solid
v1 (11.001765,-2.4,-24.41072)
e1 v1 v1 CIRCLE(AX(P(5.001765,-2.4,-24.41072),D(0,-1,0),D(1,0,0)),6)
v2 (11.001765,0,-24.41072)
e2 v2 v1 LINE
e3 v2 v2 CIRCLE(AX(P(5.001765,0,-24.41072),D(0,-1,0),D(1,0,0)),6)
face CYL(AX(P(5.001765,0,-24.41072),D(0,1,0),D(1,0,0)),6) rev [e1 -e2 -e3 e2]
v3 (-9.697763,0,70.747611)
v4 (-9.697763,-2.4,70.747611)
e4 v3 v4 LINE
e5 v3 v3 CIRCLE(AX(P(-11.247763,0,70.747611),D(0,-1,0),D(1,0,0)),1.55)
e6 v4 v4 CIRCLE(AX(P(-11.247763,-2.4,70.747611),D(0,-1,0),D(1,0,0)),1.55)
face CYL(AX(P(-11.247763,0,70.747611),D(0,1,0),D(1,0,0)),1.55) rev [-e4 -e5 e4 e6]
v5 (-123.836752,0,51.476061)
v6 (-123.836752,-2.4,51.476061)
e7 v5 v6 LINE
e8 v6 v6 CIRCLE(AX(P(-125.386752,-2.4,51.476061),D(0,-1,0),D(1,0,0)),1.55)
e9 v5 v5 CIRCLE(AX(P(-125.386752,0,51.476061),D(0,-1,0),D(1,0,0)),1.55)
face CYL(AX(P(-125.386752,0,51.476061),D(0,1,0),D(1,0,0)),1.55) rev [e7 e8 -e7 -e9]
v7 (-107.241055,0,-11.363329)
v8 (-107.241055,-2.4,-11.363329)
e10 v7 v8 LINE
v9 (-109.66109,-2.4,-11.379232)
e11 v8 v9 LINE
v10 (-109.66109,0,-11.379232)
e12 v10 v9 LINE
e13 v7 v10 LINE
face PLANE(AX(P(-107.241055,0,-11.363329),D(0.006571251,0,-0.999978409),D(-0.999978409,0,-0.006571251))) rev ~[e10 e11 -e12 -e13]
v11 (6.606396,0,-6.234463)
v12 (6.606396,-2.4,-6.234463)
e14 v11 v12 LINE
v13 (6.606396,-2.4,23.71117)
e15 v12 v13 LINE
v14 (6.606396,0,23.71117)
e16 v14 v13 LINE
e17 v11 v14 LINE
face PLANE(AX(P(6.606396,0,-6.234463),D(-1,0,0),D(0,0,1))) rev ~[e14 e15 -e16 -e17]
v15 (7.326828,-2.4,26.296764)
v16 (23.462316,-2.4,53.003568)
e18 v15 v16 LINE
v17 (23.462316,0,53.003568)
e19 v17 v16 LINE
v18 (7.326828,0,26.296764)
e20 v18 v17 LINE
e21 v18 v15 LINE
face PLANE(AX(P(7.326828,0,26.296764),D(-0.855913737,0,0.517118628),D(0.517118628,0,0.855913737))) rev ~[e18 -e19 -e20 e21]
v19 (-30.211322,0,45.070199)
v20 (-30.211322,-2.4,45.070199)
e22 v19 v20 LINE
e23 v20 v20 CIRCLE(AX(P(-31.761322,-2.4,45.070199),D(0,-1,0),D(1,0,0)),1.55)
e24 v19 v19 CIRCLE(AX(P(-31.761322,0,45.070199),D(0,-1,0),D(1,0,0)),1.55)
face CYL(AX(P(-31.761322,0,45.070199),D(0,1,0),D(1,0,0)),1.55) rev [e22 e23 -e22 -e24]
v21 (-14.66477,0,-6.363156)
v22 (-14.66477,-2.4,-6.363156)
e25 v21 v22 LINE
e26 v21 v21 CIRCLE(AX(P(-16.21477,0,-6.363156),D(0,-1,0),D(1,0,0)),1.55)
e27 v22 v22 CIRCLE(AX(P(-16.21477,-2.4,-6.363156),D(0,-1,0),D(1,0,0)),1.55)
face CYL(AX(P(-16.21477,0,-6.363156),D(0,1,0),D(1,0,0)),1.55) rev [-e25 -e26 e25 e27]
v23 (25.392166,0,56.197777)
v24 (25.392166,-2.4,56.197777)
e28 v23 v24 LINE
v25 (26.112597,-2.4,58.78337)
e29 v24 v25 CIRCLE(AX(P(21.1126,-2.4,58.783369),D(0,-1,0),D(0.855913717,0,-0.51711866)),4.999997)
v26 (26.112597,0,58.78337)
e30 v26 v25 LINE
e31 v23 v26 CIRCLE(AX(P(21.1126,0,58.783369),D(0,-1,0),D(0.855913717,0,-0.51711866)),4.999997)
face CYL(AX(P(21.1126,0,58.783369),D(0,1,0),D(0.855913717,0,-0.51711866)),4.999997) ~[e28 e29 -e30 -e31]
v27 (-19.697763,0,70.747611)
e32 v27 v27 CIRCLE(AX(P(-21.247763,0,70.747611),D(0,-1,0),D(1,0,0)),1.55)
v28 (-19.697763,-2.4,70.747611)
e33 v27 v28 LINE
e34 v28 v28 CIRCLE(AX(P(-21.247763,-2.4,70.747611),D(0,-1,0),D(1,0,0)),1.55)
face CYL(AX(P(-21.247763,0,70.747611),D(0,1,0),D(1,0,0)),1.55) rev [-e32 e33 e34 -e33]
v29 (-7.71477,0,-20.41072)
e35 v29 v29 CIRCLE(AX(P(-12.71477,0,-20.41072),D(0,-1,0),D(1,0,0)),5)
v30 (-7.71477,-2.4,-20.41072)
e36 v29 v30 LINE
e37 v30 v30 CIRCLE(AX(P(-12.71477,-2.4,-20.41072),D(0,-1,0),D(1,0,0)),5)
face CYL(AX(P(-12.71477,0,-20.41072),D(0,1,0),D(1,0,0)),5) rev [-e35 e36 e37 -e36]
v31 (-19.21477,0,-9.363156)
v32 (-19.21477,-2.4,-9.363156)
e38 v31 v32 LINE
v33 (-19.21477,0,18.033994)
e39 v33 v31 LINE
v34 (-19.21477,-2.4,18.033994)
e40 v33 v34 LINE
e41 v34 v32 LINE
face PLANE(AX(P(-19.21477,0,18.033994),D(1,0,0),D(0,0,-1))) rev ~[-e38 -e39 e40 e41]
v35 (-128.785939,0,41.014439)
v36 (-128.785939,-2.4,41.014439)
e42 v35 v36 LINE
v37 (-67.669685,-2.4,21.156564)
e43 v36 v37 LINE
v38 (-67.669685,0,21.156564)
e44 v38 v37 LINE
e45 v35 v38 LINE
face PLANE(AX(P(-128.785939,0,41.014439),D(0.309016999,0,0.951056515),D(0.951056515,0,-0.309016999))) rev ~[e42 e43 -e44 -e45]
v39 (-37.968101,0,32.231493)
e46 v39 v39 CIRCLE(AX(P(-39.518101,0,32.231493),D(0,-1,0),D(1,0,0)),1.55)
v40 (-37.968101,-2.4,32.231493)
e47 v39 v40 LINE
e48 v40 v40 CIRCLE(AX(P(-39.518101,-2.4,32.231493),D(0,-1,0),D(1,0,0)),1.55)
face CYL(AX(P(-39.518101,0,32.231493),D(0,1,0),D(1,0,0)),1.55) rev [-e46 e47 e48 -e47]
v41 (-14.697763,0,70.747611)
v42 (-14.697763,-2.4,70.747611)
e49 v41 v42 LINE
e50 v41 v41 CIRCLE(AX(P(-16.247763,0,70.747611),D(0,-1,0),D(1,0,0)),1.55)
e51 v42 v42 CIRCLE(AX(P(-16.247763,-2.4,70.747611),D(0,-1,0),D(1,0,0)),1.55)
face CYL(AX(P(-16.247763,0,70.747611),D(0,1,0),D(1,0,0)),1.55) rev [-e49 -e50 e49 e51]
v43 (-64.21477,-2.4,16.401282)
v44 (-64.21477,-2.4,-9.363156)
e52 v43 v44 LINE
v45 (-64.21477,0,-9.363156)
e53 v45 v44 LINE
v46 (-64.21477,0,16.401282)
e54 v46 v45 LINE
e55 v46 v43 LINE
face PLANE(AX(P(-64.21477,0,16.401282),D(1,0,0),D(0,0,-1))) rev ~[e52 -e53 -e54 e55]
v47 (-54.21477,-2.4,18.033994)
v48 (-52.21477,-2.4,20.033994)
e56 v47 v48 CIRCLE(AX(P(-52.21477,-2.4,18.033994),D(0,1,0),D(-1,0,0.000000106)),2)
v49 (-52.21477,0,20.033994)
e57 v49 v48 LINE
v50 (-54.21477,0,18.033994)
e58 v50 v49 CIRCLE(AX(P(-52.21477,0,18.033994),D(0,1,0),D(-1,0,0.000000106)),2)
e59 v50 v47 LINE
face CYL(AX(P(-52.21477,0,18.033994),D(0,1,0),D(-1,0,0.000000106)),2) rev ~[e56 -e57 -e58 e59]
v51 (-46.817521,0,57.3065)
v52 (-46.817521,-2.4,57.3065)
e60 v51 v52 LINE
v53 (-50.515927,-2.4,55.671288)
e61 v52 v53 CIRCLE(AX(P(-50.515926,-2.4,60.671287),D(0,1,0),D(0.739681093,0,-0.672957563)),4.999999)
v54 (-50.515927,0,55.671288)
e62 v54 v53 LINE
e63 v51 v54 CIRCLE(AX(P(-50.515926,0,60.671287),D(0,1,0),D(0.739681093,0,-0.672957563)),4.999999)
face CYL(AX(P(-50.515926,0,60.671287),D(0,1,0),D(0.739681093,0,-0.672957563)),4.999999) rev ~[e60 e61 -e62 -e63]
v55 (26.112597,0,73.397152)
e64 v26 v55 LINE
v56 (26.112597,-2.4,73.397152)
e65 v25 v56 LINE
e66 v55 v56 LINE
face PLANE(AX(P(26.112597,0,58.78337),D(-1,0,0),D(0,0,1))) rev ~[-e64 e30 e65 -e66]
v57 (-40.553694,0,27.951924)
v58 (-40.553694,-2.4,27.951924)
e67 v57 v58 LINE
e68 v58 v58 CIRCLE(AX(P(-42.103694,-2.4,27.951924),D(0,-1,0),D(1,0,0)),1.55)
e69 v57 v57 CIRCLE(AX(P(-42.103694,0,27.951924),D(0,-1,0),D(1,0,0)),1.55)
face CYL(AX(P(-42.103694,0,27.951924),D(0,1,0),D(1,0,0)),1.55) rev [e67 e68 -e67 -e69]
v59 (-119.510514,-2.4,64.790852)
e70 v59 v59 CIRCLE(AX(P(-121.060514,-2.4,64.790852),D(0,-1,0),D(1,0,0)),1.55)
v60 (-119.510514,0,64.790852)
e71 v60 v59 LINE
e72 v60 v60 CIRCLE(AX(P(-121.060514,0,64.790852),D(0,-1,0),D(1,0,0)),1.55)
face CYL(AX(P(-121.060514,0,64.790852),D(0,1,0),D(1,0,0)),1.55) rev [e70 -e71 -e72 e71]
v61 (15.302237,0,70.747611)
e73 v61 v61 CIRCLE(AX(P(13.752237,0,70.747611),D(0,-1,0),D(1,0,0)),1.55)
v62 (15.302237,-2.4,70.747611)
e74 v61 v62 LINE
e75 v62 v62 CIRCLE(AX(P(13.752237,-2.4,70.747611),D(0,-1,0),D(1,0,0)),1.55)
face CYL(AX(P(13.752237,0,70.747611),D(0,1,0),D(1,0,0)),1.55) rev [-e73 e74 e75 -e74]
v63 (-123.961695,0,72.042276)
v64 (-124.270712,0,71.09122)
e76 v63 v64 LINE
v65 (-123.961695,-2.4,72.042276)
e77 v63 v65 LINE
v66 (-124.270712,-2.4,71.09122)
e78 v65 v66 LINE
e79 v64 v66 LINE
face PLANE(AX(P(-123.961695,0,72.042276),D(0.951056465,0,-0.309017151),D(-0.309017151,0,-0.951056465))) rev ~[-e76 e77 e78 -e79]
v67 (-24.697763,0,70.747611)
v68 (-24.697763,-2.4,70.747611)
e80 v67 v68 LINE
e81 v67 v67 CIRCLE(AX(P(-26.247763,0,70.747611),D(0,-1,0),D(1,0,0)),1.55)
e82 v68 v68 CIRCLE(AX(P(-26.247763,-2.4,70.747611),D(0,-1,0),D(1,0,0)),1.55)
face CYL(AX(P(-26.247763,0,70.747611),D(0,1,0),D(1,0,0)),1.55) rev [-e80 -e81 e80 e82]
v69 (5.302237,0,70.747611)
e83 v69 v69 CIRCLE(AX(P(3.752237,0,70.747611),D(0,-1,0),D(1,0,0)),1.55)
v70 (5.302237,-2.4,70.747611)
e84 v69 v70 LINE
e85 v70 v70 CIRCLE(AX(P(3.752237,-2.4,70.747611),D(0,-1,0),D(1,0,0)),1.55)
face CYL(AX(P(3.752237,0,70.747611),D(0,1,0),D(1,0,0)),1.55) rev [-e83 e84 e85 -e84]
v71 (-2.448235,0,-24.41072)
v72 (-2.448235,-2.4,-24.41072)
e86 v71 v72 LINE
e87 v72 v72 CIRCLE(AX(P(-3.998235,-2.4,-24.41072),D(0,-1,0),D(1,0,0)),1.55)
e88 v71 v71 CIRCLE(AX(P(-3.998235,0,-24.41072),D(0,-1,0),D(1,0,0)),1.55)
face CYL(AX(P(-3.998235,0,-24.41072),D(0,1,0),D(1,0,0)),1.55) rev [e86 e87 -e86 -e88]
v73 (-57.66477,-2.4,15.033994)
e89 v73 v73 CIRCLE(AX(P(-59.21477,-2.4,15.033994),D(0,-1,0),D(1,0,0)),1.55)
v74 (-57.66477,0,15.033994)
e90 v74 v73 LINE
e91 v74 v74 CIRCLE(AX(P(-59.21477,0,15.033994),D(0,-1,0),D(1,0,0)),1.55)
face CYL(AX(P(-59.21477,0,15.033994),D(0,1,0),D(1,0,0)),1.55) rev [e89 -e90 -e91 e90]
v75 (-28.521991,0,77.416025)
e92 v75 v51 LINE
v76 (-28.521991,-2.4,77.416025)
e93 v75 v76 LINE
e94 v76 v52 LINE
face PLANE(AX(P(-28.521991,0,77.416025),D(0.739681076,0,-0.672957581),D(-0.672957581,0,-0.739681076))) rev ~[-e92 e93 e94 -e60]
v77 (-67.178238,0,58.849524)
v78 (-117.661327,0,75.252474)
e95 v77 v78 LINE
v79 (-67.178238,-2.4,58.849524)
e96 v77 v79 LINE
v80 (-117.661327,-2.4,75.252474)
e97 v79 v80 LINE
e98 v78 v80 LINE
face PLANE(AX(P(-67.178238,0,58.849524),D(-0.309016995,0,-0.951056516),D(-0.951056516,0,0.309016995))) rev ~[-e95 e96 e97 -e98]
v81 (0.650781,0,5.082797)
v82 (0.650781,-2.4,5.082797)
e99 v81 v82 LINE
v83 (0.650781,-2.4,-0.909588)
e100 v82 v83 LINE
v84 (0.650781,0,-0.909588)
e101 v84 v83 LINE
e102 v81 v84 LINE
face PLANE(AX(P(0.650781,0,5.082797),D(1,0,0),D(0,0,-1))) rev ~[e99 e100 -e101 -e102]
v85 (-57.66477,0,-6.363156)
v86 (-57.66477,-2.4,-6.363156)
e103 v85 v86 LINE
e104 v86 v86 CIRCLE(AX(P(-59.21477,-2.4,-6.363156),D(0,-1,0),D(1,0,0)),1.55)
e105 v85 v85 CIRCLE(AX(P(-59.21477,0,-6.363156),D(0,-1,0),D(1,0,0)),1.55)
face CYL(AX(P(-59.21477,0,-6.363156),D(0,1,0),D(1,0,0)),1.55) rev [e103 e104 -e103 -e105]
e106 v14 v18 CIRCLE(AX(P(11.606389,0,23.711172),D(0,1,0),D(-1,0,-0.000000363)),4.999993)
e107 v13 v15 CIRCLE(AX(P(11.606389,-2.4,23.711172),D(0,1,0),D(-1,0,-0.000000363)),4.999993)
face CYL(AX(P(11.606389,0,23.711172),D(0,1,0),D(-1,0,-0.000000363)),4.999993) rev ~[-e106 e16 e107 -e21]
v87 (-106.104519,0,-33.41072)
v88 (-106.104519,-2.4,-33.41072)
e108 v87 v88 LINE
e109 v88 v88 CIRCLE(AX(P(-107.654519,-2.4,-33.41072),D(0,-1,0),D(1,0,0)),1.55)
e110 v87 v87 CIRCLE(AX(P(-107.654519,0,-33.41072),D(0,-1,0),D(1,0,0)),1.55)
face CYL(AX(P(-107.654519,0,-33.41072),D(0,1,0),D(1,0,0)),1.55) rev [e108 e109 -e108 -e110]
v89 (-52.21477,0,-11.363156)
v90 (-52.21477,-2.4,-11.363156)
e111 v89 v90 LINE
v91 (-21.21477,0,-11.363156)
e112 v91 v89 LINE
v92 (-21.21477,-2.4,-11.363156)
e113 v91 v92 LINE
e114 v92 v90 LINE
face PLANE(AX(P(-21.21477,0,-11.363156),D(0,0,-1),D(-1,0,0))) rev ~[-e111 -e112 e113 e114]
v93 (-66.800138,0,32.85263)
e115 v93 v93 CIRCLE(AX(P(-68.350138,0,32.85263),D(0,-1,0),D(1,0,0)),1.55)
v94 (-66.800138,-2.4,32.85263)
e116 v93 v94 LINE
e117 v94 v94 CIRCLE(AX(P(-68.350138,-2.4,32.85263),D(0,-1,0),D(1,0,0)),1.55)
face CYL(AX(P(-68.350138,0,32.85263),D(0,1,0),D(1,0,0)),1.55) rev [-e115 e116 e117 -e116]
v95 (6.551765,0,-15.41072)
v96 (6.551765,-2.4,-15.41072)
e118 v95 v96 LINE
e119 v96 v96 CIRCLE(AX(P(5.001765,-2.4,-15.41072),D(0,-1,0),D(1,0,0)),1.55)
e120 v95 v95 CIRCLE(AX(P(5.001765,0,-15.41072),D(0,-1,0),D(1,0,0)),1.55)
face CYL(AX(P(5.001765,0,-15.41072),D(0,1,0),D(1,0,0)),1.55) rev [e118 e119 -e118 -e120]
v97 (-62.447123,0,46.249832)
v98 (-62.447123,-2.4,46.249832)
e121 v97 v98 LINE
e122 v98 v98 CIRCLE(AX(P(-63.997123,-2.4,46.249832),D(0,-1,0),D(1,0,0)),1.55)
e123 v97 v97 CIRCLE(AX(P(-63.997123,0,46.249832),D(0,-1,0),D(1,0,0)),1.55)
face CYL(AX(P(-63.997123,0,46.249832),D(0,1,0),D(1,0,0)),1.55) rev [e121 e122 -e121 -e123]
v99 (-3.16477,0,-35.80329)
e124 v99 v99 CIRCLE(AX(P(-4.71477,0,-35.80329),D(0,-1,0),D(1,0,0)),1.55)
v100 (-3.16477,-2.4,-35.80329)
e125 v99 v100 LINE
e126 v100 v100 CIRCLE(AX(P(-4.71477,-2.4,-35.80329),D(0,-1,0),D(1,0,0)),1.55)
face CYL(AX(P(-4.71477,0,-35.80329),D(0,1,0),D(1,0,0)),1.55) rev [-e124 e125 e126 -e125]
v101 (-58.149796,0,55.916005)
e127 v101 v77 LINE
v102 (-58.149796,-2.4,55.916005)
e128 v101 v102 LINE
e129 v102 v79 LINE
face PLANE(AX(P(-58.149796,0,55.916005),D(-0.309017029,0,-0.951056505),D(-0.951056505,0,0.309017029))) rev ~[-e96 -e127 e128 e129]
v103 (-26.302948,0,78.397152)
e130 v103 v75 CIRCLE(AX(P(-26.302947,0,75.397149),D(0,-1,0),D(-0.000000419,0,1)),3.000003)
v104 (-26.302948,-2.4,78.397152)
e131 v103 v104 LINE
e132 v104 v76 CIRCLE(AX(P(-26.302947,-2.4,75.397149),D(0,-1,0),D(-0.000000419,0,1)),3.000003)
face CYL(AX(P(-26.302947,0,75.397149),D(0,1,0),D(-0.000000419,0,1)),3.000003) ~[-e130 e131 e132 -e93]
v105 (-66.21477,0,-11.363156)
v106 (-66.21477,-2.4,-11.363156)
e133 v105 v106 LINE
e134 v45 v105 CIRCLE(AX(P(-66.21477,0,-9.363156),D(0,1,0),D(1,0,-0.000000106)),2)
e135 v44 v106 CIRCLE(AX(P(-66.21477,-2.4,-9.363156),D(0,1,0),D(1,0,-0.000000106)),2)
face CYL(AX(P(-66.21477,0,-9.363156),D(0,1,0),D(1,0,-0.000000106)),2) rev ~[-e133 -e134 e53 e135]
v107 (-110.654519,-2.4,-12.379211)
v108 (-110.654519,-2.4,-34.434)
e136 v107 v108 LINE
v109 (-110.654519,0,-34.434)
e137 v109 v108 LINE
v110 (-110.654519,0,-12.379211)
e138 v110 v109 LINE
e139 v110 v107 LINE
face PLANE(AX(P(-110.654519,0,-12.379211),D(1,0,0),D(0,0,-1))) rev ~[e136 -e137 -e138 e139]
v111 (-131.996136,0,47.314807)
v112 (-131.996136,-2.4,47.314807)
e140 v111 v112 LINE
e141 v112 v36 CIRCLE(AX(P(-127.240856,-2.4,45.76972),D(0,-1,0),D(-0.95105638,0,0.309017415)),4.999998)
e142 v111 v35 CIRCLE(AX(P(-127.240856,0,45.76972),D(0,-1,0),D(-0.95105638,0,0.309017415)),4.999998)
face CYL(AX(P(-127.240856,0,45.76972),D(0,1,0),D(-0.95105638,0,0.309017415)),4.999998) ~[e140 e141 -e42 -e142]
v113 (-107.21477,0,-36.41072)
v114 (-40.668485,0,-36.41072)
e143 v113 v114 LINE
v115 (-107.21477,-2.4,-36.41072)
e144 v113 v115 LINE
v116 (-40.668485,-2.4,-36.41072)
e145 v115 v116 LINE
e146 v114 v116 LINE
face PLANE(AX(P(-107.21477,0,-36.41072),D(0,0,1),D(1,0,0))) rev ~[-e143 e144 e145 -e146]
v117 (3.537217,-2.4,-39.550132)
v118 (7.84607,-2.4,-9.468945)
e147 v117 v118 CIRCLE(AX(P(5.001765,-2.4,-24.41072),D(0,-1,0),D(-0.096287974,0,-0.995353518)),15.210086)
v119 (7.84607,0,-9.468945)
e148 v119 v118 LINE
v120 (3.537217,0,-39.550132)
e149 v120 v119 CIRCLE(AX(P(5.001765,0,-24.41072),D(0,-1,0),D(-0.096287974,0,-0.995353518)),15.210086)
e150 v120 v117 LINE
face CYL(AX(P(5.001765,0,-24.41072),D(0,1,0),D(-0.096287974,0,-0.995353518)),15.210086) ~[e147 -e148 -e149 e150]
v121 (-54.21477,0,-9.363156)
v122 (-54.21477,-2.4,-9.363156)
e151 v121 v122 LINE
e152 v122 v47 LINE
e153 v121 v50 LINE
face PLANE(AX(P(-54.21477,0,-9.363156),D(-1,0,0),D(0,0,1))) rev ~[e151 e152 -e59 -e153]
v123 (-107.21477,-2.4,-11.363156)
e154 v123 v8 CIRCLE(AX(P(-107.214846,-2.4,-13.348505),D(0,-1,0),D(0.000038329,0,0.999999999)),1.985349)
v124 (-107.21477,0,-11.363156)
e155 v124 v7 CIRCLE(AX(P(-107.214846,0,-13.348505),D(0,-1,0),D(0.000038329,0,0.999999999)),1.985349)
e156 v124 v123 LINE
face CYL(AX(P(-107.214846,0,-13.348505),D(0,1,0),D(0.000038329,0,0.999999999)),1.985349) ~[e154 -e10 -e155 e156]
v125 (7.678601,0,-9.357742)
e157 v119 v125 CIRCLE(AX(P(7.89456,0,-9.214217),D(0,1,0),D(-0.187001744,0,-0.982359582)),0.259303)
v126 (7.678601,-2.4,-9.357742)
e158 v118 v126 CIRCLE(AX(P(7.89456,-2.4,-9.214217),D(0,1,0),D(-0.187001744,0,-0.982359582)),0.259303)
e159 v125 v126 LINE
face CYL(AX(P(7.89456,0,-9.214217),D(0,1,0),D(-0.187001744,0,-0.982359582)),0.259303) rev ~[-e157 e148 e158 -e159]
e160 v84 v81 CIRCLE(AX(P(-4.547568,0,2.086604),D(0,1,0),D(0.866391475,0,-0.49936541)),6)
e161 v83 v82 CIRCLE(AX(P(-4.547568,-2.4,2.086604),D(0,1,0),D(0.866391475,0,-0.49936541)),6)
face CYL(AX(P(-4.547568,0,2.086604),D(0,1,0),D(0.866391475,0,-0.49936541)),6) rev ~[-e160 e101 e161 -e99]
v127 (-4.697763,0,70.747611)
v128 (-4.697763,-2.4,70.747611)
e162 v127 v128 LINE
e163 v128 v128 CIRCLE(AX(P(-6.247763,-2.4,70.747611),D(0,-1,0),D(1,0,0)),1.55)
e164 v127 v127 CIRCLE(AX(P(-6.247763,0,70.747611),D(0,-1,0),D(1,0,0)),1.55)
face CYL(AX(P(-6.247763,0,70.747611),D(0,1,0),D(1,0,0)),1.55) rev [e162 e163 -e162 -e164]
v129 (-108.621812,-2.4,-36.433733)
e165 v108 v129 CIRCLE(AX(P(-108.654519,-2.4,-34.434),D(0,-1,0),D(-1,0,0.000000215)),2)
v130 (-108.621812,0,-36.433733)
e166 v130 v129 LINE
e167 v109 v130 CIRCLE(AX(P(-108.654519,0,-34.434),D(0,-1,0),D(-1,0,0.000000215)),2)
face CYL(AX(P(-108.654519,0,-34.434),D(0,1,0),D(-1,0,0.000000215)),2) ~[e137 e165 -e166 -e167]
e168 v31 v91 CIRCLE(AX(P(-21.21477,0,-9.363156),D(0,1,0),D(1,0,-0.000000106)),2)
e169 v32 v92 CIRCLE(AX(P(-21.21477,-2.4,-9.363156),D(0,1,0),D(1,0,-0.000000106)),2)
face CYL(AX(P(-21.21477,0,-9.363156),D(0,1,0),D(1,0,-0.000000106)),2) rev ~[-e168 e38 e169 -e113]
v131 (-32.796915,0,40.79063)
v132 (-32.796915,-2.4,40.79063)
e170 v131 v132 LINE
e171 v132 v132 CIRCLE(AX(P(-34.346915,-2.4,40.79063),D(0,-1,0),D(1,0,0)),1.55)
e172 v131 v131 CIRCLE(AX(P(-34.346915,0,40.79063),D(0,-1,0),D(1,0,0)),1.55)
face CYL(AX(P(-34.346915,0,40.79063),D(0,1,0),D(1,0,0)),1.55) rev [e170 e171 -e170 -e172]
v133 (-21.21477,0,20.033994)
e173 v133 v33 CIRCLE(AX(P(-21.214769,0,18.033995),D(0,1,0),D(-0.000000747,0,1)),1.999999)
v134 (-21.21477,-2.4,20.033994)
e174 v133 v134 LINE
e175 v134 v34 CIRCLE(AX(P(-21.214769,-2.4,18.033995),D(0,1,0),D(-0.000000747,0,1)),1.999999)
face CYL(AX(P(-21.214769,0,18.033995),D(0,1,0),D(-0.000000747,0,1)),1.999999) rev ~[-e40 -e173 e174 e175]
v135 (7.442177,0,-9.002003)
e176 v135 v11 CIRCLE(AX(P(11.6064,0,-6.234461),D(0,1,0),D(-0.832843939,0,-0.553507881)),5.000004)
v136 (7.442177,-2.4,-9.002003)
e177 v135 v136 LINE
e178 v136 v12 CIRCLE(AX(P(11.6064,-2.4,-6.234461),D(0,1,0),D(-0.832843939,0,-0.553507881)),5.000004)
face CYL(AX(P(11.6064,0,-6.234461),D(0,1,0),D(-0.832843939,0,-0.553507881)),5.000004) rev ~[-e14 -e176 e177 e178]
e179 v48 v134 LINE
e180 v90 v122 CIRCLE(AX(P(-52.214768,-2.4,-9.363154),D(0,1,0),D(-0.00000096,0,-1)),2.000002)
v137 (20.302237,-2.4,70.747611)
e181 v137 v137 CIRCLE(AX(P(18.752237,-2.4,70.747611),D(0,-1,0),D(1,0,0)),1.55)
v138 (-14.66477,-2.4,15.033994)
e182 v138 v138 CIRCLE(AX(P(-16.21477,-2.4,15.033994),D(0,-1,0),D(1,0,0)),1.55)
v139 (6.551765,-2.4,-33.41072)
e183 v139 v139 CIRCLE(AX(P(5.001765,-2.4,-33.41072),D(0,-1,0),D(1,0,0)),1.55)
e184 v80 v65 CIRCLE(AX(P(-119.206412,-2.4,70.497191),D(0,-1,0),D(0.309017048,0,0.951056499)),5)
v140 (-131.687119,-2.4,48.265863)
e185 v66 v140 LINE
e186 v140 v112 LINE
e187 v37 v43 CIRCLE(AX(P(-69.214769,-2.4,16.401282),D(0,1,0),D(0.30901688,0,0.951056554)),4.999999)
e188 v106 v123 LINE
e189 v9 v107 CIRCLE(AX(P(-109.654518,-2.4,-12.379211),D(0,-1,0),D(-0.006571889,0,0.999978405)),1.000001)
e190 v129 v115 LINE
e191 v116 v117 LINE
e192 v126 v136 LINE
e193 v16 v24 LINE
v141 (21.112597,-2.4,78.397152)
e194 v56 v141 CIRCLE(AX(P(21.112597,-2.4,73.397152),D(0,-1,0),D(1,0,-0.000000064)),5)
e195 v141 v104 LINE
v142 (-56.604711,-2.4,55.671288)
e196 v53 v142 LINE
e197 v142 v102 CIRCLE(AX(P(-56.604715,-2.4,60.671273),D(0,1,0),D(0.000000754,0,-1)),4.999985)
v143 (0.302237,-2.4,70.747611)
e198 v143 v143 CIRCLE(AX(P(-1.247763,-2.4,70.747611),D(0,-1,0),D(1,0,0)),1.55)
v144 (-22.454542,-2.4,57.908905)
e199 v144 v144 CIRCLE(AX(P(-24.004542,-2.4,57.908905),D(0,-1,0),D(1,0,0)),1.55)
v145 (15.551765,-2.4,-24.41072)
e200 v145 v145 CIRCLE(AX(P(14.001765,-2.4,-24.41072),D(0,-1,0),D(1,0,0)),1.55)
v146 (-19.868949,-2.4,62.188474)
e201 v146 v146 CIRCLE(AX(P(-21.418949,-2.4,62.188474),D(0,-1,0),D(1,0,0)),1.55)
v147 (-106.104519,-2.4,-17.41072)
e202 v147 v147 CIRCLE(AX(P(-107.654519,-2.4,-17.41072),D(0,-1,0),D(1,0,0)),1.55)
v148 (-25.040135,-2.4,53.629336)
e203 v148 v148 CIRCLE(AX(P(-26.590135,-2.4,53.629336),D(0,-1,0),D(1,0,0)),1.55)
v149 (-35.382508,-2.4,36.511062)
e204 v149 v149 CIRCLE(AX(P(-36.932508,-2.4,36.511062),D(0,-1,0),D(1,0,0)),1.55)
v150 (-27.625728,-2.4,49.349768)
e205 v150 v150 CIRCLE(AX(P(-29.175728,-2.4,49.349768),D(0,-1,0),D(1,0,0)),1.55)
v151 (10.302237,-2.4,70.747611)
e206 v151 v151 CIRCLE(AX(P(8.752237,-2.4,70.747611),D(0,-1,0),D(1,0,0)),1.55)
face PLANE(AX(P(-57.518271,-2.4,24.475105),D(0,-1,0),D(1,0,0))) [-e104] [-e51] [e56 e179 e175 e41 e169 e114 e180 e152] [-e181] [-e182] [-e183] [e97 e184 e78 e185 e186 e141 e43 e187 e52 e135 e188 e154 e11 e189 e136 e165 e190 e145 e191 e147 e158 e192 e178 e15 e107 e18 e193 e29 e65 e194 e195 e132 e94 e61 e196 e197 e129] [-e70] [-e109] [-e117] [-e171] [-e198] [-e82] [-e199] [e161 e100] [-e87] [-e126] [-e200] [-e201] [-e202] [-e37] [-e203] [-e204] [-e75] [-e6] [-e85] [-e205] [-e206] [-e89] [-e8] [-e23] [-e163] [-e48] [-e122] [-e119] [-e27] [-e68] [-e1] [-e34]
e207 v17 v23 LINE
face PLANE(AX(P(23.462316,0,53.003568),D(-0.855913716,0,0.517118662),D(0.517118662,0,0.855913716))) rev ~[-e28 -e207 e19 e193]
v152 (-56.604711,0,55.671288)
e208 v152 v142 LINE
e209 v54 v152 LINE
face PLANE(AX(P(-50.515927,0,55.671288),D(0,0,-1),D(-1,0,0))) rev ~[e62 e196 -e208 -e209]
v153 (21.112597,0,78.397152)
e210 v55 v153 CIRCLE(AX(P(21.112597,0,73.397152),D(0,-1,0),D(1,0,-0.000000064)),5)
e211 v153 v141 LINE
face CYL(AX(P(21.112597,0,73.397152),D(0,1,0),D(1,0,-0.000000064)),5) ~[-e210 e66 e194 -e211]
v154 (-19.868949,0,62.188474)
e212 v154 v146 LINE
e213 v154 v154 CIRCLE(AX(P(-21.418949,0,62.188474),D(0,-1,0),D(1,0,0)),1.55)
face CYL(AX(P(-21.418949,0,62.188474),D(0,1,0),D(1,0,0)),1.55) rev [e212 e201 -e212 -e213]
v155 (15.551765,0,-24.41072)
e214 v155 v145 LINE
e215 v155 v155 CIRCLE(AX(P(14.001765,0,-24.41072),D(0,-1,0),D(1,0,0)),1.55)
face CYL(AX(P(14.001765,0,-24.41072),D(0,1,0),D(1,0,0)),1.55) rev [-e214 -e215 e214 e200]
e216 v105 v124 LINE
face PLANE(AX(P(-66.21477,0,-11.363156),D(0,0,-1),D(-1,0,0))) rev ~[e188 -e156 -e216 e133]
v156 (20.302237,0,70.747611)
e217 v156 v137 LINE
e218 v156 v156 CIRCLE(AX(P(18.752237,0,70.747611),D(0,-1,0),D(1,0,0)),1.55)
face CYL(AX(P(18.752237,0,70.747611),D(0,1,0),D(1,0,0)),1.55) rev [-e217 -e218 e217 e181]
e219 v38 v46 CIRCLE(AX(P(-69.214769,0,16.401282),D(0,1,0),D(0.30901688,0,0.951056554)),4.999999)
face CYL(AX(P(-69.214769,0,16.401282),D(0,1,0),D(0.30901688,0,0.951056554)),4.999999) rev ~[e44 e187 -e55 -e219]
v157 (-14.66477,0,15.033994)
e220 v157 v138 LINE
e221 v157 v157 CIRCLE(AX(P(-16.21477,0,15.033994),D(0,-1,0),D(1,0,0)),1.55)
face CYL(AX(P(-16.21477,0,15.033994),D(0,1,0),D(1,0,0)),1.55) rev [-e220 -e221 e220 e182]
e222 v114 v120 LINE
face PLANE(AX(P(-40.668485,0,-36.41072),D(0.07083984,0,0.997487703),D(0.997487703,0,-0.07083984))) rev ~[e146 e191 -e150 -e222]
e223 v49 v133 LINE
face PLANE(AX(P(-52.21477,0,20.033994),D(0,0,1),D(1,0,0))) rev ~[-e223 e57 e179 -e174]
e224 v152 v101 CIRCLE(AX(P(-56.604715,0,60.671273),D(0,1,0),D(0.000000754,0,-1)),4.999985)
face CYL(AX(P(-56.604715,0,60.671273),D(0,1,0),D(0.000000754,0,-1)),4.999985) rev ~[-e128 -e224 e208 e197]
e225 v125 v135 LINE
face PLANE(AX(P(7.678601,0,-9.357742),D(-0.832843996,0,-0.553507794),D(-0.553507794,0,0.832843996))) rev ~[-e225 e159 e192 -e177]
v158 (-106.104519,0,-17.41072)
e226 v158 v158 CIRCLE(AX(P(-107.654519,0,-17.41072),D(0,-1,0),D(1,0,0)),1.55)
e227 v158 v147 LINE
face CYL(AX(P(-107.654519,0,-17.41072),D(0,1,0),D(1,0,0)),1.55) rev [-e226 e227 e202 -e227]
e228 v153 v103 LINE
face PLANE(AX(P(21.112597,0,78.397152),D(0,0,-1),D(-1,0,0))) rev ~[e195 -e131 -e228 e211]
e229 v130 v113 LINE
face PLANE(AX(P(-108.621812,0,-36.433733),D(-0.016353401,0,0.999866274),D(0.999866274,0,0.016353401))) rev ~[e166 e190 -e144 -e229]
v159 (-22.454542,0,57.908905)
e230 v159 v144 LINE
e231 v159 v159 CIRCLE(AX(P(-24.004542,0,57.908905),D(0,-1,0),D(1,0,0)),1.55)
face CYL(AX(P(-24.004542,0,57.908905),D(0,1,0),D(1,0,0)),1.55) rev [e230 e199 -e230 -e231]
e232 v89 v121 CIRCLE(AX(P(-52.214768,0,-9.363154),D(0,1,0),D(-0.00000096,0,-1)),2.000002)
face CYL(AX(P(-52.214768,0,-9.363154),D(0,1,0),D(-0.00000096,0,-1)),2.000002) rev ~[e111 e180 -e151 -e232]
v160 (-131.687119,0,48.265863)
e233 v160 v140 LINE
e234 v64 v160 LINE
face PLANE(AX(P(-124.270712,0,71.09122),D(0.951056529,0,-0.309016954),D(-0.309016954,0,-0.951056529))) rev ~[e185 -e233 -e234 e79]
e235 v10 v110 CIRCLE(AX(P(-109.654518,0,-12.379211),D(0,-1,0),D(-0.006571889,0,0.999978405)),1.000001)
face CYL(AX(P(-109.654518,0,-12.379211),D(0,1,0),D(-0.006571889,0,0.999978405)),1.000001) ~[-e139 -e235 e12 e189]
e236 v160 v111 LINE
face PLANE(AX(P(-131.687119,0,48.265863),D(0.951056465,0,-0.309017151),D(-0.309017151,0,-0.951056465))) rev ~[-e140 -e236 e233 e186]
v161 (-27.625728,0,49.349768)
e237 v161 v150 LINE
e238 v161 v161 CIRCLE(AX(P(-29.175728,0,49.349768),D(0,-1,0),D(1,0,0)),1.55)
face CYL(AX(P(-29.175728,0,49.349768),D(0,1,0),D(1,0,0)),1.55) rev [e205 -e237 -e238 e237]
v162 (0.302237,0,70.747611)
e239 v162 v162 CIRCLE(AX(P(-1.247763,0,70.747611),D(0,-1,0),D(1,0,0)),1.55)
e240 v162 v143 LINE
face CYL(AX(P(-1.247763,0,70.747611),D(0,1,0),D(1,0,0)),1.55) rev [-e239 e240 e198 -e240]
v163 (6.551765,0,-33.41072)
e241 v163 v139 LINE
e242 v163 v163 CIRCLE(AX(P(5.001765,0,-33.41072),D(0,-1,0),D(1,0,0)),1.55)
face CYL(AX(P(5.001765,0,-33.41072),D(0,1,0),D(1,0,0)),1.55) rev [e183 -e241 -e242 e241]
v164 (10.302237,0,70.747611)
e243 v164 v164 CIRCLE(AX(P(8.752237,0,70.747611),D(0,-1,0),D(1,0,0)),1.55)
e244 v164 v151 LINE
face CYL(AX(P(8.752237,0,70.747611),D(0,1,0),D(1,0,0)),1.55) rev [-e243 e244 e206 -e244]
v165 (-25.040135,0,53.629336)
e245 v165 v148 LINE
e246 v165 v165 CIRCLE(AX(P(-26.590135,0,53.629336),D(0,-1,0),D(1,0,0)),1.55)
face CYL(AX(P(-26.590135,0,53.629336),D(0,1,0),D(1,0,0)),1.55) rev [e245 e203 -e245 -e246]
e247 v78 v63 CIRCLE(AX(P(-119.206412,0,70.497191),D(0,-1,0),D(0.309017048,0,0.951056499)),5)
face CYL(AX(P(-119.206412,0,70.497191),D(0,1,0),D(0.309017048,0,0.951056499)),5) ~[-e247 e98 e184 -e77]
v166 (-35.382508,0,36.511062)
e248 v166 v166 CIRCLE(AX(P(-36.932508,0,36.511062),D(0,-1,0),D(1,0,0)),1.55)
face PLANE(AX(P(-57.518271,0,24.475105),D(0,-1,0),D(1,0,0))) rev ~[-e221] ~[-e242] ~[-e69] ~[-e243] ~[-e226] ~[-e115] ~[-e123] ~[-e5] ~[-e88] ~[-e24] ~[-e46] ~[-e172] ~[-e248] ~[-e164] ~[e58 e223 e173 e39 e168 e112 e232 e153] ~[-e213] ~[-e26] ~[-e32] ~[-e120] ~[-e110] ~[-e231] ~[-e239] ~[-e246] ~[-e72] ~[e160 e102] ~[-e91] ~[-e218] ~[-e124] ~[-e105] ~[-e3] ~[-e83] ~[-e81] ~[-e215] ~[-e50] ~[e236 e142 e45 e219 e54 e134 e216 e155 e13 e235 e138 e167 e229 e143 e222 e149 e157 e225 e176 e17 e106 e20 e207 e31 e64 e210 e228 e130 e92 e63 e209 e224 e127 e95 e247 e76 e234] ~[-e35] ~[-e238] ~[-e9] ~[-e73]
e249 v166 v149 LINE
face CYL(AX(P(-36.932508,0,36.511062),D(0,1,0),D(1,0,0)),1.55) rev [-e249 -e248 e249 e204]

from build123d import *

# Parameters (mm, degrees)
F0_R     = 1.55
F0_R_2   = 5
F0_R_3   = 6
F1_DEPTH = 2.4


with BuildPart() as f1:
    # F0 (on Front) → F1 (new body)
    with BuildSketch(Plane.XZ):
        with BuildLine():
            Line((-108.621812, -36.433733), (-107.21477, -36.41072))
            Line((-107.21477, -36.41072), (-40.668485, -36.41072))
            Line((-40.668485, -36.41072), (3.537217, -39.550132))
            ThreePointArc((3.537217, -39.550132), (20.058172, -26.567412), (7.84607, -9.468945))
            ThreePointArc((7.84607, -9.468945), (7.751121, -9.430233), (7.678601, -9.357742))
            Line((7.678601, -9.357742), (7.442177, -9.002003))
            ThreePointArc((7.442177, -9.002003), (6.8199, -7.679957), (6.606396, -6.234463))
            Line((6.606396, -6.234463), (6.606396, 23.71117))
            ThreePointArc((6.606396, 23.71117), (6.78987, 25.053213), (7.326828, 26.296764))
            Line((7.326828, 26.296764), (23.462316, 53.003568))
            Line((23.462316, 53.003568), (25.392166, 56.197777))
            ThreePointArc((25.392166, 56.197777), (25.929123, 57.441327), (26.112597, 58.78337))
            Line((26.112597, 58.78337), (26.112597, 73.397152))
            ThreePointArc((26.112597, 73.397152), (24.648131, 76.932686), (21.112597, 78.397152))
            Line((21.112597, 78.397152), (-26.302948, 78.397152))
            ThreePointArc((-26.302948, 78.397152), (-27.516081, 78.140928), (-28.521991, 77.416025))
            Line((-28.521991, 77.416025), (-46.817521, 57.3065))
            ThreePointArc((-46.817521, 57.3065), (-48.494039, 56.098327), (-50.515927, 55.671288))
            Line((-50.515927, 55.671288), (-56.604711, 55.671288))
            ThreePointArc((-56.604711, 55.671288), (-57.386884, 55.732846), (-58.149796, 55.916005))
            Line((-58.149796, 55.916005), (-67.178238, 58.849524))
            Line((-67.178238, 58.849524), (-117.661327, 75.252474))
            ThreePointArc((-117.661327, 75.252474), (-121.476365, 74.952224), (-123.961695, 72.042276))
            Line((-123.961695, 72.042276), (-124.270712, 71.09122))
            Line((-124.270712, 71.09122), (-69.03234, 53.143185))
            Line((-69.03234, 53.143185), (-63.194846, 51.246468))
            Line((-63.194846, 51.246468), (-57.696755, 49.46003))
            Line((-57.696755, 49.46003), (-65.13994, 26.552263))
            Line((-65.13994, 26.552263), (-70.638031, 28.338701))
            Line((-70.638031, 28.338701), (-76.448748, 30.317828))
            Line((-76.448748, 30.317828), (-110.062212, 41.239505))
            Line((-110.062212, 41.239505), (-131.687119, 48.265863))
            Line((-131.687119, 48.265863), (-131.996136, 47.314807))
            ThreePointArc((-131.996136, 47.314807), (-131.695887, 43.499769), (-128.785939, 41.014439))
            Line((-128.785939, 41.014439), (-67.669685, 21.156564))
            ThreePointArc((-67.669685, 21.156564), (-65.169685, 19.340208), (-64.21477, 16.401282))
            Line((-64.21477, 16.401282), (-64.21477, -9.363156))
            ThreePointArc((-64.21477, -9.363156), (-64.800556, -10.777369), (-66.21477, -11.363156))
            Line((-66.21477, -11.363156), (-69.222616, -11.363156))
            Line((-69.222616, -11.363156), (-107.21477, -11.363156))
            ThreePointArc((-107.21477, -11.363156), (-107.227913, -11.363199), (-107.241055, -11.363329))
            Line((-107.241055, -11.363329), (-109.66109, -11.379232))
            ThreePointArc((-109.66109, -11.379232), (-110.363945, -11.674431), (-110.654519, -12.379211))
            Line((-110.654519, -12.379211), (-110.654519, -34.434))
            ThreePointArc((-110.654519, -34.434), (-110.057121, -35.859731), (-108.621812, -36.433733))
        make_face()
        with Locations((-107.654519, -33.41072)):
            Circle(F0_R, mode=Mode.SUBTRACT)
        with Locations((-107.654519, -17.41072)):
            Circle(F0_R, mode=Mode.SUBTRACT)
        with Locations((-59.21477, -6.363156)):
            Circle(F0_R, mode=Mode.SUBTRACT)
        with Locations((-59.21477, 15.033994)):
            Circle(F0_R, mode=Mode.SUBTRACT)
        with Locations((-4.71477, -35.80329)):
            Circle(F0_R, mode=Mode.SUBTRACT)
        with Locations((5.001765, -33.41072)):
            Circle(F0_R, mode=Mode.SUBTRACT)
        with Locations((-3.998235, -24.41072)):
            Circle(F0_R, mode=Mode.SUBTRACT)
        with Locations((-12.71477, -20.41072)):
            Circle(F0_R_2, mode=Mode.SUBTRACT)
        with Locations((5.001765, -24.41072)):
            Circle(F0_R_3, mode=Mode.SUBTRACT)
        with Locations((5.001765, -15.41072)):
            Circle(F0_R, mode=Mode.SUBTRACT)
        with Locations((14.001765, -24.41072)):
            Circle(F0_R, mode=Mode.SUBTRACT)
        with BuildLine():
            Line((-21.21477, -11.363156), (-52.21477, -11.363156))
            ThreePointArc((-52.21477, -11.363156), (-53.628983, -10.777369), (-54.21477, -9.363156))
            Line((-54.21477, -9.363156), (-54.21477, 18.033994))
            ThreePointArc((-54.21477, 18.033994), (-53.628983, 19.448208), (-52.21477, 20.033994))
            Line((-52.21477, 20.033994), (-21.21477, 20.033994))
            ThreePointArc((-21.21477, 20.033994), (-19.800556, 19.448208), (-19.21477, 18.033994))
            Line((-19.21477, 18.033994), (-19.21477, -9.363156))
            ThreePointArc((-19.21477, -9.363156), (-19.800556, -10.777369), (-21.21477, -11.363156))
        make_face(mode=Mode.SUBTRACT)
        with Locations((-16.21477, -6.363156)):
            Circle(F0_R, mode=Mode.SUBTRACT)
        with Locations((-16.21477, 15.033994)):
            Circle(F0_R, mode=Mode.SUBTRACT)
        with BuildLine():
            ThreePointArc((0.650781, -0.909588), (-10.547568, 2.086604), (0.650781, 5.082797))
            Line((0.650781, 5.082797), (0.650781, -0.909588))
        make_face(mode=Mode.SUBTRACT)
        with Locations((-42.103694, 27.951924)):
            Circle(F0_R, mode=Mode.SUBTRACT)
        with Locations((-39.518101, 32.231493)):
            Circle(F0_R, mode=Mode.SUBTRACT)
        with Locations((-36.932508, 36.511062)):
            Circle(F0_R, mode=Mode.SUBTRACT)
        with Locations((-34.346915, 40.79063)):
            Circle(F0_R, mode=Mode.SUBTRACT)
        with Locations((-31.761322, 45.070199)):
            Circle(F0_R, mode=Mode.SUBTRACT)
        with Locations((-29.175728, 49.349768)):
            Circle(F0_R, mode=Mode.SUBTRACT)
        with Locations((-26.590135, 53.629336)):
            Circle(F0_R, mode=Mode.SUBTRACT)
        with Locations((-24.004542, 57.908905)):
            Circle(F0_R, mode=Mode.SUBTRACT)
        with Locations((-21.418949, 62.188474)):
            Circle(F0_R, mode=Mode.SUBTRACT)
        with Locations((-26.247763, 70.747611)):
            Circle(F0_R, mode=Mode.SUBTRACT)
        with Locations((-21.247763, 70.747611)):
            Circle(F0_R, mode=Mode.SUBTRACT)
        with Locations((-16.247763, 70.747611)):
            Circle(F0_R, mode=Mode.SUBTRACT)
        with Locations((-11.247763, 70.747611)):
            Circle(F0_R, mode=Mode.SUBTRACT)
        with Locations((-6.247763, 70.747611)):
            Circle(F0_R, mode=Mode.SUBTRACT)
        with Locations((-1.247763, 70.747611)):
            Circle(F0_R, mode=Mode.SUBTRACT)
        with Locations((3.752237, 70.747611)):
            Circle(F0_R, mode=Mode.SUBTRACT)
        with Locations((8.752237, 70.747611)):
            Circle(F0_R, mode=Mode.SUBTRACT)
        with Locations((13.752237, 70.747611)):
            Circle(F0_R, mode=Mode.SUBTRACT)
        with Locations((18.752237, 70.747611)):
            Circle(F0_R, mode=Mode.SUBTRACT)
        Polygon((-124.270712, 71.09122), (-131.687119, 48.265863), (-110.062212, 41.239505), (-76.448748, 30.317828), (-70.638031, 28.338701), (-65.13994, 26.552263), (-57.696755, 49.46003), (-63.194846, 51.246468), (-69.03234, 53.143185), align=None)
        with Locations((-68.350138, 32.85263)):
            Circle(F0_R, mode=Mode.SUBTRACT)
        with Locations((-63.997123, 46.249832)):
            Circle(F0_R, mode=Mode.SUBTRACT)
        with Locations((-125.386752, 51.476061)):
            Circle(F0_R, mode=Mode.SUBTRACT)
        with Locations((-121.060514, 64.790852)):
            Circle(F0_R, mode=Mode.SUBTRACT)
    extrude(amount=F1_DEPTH)


solid = f1.part
